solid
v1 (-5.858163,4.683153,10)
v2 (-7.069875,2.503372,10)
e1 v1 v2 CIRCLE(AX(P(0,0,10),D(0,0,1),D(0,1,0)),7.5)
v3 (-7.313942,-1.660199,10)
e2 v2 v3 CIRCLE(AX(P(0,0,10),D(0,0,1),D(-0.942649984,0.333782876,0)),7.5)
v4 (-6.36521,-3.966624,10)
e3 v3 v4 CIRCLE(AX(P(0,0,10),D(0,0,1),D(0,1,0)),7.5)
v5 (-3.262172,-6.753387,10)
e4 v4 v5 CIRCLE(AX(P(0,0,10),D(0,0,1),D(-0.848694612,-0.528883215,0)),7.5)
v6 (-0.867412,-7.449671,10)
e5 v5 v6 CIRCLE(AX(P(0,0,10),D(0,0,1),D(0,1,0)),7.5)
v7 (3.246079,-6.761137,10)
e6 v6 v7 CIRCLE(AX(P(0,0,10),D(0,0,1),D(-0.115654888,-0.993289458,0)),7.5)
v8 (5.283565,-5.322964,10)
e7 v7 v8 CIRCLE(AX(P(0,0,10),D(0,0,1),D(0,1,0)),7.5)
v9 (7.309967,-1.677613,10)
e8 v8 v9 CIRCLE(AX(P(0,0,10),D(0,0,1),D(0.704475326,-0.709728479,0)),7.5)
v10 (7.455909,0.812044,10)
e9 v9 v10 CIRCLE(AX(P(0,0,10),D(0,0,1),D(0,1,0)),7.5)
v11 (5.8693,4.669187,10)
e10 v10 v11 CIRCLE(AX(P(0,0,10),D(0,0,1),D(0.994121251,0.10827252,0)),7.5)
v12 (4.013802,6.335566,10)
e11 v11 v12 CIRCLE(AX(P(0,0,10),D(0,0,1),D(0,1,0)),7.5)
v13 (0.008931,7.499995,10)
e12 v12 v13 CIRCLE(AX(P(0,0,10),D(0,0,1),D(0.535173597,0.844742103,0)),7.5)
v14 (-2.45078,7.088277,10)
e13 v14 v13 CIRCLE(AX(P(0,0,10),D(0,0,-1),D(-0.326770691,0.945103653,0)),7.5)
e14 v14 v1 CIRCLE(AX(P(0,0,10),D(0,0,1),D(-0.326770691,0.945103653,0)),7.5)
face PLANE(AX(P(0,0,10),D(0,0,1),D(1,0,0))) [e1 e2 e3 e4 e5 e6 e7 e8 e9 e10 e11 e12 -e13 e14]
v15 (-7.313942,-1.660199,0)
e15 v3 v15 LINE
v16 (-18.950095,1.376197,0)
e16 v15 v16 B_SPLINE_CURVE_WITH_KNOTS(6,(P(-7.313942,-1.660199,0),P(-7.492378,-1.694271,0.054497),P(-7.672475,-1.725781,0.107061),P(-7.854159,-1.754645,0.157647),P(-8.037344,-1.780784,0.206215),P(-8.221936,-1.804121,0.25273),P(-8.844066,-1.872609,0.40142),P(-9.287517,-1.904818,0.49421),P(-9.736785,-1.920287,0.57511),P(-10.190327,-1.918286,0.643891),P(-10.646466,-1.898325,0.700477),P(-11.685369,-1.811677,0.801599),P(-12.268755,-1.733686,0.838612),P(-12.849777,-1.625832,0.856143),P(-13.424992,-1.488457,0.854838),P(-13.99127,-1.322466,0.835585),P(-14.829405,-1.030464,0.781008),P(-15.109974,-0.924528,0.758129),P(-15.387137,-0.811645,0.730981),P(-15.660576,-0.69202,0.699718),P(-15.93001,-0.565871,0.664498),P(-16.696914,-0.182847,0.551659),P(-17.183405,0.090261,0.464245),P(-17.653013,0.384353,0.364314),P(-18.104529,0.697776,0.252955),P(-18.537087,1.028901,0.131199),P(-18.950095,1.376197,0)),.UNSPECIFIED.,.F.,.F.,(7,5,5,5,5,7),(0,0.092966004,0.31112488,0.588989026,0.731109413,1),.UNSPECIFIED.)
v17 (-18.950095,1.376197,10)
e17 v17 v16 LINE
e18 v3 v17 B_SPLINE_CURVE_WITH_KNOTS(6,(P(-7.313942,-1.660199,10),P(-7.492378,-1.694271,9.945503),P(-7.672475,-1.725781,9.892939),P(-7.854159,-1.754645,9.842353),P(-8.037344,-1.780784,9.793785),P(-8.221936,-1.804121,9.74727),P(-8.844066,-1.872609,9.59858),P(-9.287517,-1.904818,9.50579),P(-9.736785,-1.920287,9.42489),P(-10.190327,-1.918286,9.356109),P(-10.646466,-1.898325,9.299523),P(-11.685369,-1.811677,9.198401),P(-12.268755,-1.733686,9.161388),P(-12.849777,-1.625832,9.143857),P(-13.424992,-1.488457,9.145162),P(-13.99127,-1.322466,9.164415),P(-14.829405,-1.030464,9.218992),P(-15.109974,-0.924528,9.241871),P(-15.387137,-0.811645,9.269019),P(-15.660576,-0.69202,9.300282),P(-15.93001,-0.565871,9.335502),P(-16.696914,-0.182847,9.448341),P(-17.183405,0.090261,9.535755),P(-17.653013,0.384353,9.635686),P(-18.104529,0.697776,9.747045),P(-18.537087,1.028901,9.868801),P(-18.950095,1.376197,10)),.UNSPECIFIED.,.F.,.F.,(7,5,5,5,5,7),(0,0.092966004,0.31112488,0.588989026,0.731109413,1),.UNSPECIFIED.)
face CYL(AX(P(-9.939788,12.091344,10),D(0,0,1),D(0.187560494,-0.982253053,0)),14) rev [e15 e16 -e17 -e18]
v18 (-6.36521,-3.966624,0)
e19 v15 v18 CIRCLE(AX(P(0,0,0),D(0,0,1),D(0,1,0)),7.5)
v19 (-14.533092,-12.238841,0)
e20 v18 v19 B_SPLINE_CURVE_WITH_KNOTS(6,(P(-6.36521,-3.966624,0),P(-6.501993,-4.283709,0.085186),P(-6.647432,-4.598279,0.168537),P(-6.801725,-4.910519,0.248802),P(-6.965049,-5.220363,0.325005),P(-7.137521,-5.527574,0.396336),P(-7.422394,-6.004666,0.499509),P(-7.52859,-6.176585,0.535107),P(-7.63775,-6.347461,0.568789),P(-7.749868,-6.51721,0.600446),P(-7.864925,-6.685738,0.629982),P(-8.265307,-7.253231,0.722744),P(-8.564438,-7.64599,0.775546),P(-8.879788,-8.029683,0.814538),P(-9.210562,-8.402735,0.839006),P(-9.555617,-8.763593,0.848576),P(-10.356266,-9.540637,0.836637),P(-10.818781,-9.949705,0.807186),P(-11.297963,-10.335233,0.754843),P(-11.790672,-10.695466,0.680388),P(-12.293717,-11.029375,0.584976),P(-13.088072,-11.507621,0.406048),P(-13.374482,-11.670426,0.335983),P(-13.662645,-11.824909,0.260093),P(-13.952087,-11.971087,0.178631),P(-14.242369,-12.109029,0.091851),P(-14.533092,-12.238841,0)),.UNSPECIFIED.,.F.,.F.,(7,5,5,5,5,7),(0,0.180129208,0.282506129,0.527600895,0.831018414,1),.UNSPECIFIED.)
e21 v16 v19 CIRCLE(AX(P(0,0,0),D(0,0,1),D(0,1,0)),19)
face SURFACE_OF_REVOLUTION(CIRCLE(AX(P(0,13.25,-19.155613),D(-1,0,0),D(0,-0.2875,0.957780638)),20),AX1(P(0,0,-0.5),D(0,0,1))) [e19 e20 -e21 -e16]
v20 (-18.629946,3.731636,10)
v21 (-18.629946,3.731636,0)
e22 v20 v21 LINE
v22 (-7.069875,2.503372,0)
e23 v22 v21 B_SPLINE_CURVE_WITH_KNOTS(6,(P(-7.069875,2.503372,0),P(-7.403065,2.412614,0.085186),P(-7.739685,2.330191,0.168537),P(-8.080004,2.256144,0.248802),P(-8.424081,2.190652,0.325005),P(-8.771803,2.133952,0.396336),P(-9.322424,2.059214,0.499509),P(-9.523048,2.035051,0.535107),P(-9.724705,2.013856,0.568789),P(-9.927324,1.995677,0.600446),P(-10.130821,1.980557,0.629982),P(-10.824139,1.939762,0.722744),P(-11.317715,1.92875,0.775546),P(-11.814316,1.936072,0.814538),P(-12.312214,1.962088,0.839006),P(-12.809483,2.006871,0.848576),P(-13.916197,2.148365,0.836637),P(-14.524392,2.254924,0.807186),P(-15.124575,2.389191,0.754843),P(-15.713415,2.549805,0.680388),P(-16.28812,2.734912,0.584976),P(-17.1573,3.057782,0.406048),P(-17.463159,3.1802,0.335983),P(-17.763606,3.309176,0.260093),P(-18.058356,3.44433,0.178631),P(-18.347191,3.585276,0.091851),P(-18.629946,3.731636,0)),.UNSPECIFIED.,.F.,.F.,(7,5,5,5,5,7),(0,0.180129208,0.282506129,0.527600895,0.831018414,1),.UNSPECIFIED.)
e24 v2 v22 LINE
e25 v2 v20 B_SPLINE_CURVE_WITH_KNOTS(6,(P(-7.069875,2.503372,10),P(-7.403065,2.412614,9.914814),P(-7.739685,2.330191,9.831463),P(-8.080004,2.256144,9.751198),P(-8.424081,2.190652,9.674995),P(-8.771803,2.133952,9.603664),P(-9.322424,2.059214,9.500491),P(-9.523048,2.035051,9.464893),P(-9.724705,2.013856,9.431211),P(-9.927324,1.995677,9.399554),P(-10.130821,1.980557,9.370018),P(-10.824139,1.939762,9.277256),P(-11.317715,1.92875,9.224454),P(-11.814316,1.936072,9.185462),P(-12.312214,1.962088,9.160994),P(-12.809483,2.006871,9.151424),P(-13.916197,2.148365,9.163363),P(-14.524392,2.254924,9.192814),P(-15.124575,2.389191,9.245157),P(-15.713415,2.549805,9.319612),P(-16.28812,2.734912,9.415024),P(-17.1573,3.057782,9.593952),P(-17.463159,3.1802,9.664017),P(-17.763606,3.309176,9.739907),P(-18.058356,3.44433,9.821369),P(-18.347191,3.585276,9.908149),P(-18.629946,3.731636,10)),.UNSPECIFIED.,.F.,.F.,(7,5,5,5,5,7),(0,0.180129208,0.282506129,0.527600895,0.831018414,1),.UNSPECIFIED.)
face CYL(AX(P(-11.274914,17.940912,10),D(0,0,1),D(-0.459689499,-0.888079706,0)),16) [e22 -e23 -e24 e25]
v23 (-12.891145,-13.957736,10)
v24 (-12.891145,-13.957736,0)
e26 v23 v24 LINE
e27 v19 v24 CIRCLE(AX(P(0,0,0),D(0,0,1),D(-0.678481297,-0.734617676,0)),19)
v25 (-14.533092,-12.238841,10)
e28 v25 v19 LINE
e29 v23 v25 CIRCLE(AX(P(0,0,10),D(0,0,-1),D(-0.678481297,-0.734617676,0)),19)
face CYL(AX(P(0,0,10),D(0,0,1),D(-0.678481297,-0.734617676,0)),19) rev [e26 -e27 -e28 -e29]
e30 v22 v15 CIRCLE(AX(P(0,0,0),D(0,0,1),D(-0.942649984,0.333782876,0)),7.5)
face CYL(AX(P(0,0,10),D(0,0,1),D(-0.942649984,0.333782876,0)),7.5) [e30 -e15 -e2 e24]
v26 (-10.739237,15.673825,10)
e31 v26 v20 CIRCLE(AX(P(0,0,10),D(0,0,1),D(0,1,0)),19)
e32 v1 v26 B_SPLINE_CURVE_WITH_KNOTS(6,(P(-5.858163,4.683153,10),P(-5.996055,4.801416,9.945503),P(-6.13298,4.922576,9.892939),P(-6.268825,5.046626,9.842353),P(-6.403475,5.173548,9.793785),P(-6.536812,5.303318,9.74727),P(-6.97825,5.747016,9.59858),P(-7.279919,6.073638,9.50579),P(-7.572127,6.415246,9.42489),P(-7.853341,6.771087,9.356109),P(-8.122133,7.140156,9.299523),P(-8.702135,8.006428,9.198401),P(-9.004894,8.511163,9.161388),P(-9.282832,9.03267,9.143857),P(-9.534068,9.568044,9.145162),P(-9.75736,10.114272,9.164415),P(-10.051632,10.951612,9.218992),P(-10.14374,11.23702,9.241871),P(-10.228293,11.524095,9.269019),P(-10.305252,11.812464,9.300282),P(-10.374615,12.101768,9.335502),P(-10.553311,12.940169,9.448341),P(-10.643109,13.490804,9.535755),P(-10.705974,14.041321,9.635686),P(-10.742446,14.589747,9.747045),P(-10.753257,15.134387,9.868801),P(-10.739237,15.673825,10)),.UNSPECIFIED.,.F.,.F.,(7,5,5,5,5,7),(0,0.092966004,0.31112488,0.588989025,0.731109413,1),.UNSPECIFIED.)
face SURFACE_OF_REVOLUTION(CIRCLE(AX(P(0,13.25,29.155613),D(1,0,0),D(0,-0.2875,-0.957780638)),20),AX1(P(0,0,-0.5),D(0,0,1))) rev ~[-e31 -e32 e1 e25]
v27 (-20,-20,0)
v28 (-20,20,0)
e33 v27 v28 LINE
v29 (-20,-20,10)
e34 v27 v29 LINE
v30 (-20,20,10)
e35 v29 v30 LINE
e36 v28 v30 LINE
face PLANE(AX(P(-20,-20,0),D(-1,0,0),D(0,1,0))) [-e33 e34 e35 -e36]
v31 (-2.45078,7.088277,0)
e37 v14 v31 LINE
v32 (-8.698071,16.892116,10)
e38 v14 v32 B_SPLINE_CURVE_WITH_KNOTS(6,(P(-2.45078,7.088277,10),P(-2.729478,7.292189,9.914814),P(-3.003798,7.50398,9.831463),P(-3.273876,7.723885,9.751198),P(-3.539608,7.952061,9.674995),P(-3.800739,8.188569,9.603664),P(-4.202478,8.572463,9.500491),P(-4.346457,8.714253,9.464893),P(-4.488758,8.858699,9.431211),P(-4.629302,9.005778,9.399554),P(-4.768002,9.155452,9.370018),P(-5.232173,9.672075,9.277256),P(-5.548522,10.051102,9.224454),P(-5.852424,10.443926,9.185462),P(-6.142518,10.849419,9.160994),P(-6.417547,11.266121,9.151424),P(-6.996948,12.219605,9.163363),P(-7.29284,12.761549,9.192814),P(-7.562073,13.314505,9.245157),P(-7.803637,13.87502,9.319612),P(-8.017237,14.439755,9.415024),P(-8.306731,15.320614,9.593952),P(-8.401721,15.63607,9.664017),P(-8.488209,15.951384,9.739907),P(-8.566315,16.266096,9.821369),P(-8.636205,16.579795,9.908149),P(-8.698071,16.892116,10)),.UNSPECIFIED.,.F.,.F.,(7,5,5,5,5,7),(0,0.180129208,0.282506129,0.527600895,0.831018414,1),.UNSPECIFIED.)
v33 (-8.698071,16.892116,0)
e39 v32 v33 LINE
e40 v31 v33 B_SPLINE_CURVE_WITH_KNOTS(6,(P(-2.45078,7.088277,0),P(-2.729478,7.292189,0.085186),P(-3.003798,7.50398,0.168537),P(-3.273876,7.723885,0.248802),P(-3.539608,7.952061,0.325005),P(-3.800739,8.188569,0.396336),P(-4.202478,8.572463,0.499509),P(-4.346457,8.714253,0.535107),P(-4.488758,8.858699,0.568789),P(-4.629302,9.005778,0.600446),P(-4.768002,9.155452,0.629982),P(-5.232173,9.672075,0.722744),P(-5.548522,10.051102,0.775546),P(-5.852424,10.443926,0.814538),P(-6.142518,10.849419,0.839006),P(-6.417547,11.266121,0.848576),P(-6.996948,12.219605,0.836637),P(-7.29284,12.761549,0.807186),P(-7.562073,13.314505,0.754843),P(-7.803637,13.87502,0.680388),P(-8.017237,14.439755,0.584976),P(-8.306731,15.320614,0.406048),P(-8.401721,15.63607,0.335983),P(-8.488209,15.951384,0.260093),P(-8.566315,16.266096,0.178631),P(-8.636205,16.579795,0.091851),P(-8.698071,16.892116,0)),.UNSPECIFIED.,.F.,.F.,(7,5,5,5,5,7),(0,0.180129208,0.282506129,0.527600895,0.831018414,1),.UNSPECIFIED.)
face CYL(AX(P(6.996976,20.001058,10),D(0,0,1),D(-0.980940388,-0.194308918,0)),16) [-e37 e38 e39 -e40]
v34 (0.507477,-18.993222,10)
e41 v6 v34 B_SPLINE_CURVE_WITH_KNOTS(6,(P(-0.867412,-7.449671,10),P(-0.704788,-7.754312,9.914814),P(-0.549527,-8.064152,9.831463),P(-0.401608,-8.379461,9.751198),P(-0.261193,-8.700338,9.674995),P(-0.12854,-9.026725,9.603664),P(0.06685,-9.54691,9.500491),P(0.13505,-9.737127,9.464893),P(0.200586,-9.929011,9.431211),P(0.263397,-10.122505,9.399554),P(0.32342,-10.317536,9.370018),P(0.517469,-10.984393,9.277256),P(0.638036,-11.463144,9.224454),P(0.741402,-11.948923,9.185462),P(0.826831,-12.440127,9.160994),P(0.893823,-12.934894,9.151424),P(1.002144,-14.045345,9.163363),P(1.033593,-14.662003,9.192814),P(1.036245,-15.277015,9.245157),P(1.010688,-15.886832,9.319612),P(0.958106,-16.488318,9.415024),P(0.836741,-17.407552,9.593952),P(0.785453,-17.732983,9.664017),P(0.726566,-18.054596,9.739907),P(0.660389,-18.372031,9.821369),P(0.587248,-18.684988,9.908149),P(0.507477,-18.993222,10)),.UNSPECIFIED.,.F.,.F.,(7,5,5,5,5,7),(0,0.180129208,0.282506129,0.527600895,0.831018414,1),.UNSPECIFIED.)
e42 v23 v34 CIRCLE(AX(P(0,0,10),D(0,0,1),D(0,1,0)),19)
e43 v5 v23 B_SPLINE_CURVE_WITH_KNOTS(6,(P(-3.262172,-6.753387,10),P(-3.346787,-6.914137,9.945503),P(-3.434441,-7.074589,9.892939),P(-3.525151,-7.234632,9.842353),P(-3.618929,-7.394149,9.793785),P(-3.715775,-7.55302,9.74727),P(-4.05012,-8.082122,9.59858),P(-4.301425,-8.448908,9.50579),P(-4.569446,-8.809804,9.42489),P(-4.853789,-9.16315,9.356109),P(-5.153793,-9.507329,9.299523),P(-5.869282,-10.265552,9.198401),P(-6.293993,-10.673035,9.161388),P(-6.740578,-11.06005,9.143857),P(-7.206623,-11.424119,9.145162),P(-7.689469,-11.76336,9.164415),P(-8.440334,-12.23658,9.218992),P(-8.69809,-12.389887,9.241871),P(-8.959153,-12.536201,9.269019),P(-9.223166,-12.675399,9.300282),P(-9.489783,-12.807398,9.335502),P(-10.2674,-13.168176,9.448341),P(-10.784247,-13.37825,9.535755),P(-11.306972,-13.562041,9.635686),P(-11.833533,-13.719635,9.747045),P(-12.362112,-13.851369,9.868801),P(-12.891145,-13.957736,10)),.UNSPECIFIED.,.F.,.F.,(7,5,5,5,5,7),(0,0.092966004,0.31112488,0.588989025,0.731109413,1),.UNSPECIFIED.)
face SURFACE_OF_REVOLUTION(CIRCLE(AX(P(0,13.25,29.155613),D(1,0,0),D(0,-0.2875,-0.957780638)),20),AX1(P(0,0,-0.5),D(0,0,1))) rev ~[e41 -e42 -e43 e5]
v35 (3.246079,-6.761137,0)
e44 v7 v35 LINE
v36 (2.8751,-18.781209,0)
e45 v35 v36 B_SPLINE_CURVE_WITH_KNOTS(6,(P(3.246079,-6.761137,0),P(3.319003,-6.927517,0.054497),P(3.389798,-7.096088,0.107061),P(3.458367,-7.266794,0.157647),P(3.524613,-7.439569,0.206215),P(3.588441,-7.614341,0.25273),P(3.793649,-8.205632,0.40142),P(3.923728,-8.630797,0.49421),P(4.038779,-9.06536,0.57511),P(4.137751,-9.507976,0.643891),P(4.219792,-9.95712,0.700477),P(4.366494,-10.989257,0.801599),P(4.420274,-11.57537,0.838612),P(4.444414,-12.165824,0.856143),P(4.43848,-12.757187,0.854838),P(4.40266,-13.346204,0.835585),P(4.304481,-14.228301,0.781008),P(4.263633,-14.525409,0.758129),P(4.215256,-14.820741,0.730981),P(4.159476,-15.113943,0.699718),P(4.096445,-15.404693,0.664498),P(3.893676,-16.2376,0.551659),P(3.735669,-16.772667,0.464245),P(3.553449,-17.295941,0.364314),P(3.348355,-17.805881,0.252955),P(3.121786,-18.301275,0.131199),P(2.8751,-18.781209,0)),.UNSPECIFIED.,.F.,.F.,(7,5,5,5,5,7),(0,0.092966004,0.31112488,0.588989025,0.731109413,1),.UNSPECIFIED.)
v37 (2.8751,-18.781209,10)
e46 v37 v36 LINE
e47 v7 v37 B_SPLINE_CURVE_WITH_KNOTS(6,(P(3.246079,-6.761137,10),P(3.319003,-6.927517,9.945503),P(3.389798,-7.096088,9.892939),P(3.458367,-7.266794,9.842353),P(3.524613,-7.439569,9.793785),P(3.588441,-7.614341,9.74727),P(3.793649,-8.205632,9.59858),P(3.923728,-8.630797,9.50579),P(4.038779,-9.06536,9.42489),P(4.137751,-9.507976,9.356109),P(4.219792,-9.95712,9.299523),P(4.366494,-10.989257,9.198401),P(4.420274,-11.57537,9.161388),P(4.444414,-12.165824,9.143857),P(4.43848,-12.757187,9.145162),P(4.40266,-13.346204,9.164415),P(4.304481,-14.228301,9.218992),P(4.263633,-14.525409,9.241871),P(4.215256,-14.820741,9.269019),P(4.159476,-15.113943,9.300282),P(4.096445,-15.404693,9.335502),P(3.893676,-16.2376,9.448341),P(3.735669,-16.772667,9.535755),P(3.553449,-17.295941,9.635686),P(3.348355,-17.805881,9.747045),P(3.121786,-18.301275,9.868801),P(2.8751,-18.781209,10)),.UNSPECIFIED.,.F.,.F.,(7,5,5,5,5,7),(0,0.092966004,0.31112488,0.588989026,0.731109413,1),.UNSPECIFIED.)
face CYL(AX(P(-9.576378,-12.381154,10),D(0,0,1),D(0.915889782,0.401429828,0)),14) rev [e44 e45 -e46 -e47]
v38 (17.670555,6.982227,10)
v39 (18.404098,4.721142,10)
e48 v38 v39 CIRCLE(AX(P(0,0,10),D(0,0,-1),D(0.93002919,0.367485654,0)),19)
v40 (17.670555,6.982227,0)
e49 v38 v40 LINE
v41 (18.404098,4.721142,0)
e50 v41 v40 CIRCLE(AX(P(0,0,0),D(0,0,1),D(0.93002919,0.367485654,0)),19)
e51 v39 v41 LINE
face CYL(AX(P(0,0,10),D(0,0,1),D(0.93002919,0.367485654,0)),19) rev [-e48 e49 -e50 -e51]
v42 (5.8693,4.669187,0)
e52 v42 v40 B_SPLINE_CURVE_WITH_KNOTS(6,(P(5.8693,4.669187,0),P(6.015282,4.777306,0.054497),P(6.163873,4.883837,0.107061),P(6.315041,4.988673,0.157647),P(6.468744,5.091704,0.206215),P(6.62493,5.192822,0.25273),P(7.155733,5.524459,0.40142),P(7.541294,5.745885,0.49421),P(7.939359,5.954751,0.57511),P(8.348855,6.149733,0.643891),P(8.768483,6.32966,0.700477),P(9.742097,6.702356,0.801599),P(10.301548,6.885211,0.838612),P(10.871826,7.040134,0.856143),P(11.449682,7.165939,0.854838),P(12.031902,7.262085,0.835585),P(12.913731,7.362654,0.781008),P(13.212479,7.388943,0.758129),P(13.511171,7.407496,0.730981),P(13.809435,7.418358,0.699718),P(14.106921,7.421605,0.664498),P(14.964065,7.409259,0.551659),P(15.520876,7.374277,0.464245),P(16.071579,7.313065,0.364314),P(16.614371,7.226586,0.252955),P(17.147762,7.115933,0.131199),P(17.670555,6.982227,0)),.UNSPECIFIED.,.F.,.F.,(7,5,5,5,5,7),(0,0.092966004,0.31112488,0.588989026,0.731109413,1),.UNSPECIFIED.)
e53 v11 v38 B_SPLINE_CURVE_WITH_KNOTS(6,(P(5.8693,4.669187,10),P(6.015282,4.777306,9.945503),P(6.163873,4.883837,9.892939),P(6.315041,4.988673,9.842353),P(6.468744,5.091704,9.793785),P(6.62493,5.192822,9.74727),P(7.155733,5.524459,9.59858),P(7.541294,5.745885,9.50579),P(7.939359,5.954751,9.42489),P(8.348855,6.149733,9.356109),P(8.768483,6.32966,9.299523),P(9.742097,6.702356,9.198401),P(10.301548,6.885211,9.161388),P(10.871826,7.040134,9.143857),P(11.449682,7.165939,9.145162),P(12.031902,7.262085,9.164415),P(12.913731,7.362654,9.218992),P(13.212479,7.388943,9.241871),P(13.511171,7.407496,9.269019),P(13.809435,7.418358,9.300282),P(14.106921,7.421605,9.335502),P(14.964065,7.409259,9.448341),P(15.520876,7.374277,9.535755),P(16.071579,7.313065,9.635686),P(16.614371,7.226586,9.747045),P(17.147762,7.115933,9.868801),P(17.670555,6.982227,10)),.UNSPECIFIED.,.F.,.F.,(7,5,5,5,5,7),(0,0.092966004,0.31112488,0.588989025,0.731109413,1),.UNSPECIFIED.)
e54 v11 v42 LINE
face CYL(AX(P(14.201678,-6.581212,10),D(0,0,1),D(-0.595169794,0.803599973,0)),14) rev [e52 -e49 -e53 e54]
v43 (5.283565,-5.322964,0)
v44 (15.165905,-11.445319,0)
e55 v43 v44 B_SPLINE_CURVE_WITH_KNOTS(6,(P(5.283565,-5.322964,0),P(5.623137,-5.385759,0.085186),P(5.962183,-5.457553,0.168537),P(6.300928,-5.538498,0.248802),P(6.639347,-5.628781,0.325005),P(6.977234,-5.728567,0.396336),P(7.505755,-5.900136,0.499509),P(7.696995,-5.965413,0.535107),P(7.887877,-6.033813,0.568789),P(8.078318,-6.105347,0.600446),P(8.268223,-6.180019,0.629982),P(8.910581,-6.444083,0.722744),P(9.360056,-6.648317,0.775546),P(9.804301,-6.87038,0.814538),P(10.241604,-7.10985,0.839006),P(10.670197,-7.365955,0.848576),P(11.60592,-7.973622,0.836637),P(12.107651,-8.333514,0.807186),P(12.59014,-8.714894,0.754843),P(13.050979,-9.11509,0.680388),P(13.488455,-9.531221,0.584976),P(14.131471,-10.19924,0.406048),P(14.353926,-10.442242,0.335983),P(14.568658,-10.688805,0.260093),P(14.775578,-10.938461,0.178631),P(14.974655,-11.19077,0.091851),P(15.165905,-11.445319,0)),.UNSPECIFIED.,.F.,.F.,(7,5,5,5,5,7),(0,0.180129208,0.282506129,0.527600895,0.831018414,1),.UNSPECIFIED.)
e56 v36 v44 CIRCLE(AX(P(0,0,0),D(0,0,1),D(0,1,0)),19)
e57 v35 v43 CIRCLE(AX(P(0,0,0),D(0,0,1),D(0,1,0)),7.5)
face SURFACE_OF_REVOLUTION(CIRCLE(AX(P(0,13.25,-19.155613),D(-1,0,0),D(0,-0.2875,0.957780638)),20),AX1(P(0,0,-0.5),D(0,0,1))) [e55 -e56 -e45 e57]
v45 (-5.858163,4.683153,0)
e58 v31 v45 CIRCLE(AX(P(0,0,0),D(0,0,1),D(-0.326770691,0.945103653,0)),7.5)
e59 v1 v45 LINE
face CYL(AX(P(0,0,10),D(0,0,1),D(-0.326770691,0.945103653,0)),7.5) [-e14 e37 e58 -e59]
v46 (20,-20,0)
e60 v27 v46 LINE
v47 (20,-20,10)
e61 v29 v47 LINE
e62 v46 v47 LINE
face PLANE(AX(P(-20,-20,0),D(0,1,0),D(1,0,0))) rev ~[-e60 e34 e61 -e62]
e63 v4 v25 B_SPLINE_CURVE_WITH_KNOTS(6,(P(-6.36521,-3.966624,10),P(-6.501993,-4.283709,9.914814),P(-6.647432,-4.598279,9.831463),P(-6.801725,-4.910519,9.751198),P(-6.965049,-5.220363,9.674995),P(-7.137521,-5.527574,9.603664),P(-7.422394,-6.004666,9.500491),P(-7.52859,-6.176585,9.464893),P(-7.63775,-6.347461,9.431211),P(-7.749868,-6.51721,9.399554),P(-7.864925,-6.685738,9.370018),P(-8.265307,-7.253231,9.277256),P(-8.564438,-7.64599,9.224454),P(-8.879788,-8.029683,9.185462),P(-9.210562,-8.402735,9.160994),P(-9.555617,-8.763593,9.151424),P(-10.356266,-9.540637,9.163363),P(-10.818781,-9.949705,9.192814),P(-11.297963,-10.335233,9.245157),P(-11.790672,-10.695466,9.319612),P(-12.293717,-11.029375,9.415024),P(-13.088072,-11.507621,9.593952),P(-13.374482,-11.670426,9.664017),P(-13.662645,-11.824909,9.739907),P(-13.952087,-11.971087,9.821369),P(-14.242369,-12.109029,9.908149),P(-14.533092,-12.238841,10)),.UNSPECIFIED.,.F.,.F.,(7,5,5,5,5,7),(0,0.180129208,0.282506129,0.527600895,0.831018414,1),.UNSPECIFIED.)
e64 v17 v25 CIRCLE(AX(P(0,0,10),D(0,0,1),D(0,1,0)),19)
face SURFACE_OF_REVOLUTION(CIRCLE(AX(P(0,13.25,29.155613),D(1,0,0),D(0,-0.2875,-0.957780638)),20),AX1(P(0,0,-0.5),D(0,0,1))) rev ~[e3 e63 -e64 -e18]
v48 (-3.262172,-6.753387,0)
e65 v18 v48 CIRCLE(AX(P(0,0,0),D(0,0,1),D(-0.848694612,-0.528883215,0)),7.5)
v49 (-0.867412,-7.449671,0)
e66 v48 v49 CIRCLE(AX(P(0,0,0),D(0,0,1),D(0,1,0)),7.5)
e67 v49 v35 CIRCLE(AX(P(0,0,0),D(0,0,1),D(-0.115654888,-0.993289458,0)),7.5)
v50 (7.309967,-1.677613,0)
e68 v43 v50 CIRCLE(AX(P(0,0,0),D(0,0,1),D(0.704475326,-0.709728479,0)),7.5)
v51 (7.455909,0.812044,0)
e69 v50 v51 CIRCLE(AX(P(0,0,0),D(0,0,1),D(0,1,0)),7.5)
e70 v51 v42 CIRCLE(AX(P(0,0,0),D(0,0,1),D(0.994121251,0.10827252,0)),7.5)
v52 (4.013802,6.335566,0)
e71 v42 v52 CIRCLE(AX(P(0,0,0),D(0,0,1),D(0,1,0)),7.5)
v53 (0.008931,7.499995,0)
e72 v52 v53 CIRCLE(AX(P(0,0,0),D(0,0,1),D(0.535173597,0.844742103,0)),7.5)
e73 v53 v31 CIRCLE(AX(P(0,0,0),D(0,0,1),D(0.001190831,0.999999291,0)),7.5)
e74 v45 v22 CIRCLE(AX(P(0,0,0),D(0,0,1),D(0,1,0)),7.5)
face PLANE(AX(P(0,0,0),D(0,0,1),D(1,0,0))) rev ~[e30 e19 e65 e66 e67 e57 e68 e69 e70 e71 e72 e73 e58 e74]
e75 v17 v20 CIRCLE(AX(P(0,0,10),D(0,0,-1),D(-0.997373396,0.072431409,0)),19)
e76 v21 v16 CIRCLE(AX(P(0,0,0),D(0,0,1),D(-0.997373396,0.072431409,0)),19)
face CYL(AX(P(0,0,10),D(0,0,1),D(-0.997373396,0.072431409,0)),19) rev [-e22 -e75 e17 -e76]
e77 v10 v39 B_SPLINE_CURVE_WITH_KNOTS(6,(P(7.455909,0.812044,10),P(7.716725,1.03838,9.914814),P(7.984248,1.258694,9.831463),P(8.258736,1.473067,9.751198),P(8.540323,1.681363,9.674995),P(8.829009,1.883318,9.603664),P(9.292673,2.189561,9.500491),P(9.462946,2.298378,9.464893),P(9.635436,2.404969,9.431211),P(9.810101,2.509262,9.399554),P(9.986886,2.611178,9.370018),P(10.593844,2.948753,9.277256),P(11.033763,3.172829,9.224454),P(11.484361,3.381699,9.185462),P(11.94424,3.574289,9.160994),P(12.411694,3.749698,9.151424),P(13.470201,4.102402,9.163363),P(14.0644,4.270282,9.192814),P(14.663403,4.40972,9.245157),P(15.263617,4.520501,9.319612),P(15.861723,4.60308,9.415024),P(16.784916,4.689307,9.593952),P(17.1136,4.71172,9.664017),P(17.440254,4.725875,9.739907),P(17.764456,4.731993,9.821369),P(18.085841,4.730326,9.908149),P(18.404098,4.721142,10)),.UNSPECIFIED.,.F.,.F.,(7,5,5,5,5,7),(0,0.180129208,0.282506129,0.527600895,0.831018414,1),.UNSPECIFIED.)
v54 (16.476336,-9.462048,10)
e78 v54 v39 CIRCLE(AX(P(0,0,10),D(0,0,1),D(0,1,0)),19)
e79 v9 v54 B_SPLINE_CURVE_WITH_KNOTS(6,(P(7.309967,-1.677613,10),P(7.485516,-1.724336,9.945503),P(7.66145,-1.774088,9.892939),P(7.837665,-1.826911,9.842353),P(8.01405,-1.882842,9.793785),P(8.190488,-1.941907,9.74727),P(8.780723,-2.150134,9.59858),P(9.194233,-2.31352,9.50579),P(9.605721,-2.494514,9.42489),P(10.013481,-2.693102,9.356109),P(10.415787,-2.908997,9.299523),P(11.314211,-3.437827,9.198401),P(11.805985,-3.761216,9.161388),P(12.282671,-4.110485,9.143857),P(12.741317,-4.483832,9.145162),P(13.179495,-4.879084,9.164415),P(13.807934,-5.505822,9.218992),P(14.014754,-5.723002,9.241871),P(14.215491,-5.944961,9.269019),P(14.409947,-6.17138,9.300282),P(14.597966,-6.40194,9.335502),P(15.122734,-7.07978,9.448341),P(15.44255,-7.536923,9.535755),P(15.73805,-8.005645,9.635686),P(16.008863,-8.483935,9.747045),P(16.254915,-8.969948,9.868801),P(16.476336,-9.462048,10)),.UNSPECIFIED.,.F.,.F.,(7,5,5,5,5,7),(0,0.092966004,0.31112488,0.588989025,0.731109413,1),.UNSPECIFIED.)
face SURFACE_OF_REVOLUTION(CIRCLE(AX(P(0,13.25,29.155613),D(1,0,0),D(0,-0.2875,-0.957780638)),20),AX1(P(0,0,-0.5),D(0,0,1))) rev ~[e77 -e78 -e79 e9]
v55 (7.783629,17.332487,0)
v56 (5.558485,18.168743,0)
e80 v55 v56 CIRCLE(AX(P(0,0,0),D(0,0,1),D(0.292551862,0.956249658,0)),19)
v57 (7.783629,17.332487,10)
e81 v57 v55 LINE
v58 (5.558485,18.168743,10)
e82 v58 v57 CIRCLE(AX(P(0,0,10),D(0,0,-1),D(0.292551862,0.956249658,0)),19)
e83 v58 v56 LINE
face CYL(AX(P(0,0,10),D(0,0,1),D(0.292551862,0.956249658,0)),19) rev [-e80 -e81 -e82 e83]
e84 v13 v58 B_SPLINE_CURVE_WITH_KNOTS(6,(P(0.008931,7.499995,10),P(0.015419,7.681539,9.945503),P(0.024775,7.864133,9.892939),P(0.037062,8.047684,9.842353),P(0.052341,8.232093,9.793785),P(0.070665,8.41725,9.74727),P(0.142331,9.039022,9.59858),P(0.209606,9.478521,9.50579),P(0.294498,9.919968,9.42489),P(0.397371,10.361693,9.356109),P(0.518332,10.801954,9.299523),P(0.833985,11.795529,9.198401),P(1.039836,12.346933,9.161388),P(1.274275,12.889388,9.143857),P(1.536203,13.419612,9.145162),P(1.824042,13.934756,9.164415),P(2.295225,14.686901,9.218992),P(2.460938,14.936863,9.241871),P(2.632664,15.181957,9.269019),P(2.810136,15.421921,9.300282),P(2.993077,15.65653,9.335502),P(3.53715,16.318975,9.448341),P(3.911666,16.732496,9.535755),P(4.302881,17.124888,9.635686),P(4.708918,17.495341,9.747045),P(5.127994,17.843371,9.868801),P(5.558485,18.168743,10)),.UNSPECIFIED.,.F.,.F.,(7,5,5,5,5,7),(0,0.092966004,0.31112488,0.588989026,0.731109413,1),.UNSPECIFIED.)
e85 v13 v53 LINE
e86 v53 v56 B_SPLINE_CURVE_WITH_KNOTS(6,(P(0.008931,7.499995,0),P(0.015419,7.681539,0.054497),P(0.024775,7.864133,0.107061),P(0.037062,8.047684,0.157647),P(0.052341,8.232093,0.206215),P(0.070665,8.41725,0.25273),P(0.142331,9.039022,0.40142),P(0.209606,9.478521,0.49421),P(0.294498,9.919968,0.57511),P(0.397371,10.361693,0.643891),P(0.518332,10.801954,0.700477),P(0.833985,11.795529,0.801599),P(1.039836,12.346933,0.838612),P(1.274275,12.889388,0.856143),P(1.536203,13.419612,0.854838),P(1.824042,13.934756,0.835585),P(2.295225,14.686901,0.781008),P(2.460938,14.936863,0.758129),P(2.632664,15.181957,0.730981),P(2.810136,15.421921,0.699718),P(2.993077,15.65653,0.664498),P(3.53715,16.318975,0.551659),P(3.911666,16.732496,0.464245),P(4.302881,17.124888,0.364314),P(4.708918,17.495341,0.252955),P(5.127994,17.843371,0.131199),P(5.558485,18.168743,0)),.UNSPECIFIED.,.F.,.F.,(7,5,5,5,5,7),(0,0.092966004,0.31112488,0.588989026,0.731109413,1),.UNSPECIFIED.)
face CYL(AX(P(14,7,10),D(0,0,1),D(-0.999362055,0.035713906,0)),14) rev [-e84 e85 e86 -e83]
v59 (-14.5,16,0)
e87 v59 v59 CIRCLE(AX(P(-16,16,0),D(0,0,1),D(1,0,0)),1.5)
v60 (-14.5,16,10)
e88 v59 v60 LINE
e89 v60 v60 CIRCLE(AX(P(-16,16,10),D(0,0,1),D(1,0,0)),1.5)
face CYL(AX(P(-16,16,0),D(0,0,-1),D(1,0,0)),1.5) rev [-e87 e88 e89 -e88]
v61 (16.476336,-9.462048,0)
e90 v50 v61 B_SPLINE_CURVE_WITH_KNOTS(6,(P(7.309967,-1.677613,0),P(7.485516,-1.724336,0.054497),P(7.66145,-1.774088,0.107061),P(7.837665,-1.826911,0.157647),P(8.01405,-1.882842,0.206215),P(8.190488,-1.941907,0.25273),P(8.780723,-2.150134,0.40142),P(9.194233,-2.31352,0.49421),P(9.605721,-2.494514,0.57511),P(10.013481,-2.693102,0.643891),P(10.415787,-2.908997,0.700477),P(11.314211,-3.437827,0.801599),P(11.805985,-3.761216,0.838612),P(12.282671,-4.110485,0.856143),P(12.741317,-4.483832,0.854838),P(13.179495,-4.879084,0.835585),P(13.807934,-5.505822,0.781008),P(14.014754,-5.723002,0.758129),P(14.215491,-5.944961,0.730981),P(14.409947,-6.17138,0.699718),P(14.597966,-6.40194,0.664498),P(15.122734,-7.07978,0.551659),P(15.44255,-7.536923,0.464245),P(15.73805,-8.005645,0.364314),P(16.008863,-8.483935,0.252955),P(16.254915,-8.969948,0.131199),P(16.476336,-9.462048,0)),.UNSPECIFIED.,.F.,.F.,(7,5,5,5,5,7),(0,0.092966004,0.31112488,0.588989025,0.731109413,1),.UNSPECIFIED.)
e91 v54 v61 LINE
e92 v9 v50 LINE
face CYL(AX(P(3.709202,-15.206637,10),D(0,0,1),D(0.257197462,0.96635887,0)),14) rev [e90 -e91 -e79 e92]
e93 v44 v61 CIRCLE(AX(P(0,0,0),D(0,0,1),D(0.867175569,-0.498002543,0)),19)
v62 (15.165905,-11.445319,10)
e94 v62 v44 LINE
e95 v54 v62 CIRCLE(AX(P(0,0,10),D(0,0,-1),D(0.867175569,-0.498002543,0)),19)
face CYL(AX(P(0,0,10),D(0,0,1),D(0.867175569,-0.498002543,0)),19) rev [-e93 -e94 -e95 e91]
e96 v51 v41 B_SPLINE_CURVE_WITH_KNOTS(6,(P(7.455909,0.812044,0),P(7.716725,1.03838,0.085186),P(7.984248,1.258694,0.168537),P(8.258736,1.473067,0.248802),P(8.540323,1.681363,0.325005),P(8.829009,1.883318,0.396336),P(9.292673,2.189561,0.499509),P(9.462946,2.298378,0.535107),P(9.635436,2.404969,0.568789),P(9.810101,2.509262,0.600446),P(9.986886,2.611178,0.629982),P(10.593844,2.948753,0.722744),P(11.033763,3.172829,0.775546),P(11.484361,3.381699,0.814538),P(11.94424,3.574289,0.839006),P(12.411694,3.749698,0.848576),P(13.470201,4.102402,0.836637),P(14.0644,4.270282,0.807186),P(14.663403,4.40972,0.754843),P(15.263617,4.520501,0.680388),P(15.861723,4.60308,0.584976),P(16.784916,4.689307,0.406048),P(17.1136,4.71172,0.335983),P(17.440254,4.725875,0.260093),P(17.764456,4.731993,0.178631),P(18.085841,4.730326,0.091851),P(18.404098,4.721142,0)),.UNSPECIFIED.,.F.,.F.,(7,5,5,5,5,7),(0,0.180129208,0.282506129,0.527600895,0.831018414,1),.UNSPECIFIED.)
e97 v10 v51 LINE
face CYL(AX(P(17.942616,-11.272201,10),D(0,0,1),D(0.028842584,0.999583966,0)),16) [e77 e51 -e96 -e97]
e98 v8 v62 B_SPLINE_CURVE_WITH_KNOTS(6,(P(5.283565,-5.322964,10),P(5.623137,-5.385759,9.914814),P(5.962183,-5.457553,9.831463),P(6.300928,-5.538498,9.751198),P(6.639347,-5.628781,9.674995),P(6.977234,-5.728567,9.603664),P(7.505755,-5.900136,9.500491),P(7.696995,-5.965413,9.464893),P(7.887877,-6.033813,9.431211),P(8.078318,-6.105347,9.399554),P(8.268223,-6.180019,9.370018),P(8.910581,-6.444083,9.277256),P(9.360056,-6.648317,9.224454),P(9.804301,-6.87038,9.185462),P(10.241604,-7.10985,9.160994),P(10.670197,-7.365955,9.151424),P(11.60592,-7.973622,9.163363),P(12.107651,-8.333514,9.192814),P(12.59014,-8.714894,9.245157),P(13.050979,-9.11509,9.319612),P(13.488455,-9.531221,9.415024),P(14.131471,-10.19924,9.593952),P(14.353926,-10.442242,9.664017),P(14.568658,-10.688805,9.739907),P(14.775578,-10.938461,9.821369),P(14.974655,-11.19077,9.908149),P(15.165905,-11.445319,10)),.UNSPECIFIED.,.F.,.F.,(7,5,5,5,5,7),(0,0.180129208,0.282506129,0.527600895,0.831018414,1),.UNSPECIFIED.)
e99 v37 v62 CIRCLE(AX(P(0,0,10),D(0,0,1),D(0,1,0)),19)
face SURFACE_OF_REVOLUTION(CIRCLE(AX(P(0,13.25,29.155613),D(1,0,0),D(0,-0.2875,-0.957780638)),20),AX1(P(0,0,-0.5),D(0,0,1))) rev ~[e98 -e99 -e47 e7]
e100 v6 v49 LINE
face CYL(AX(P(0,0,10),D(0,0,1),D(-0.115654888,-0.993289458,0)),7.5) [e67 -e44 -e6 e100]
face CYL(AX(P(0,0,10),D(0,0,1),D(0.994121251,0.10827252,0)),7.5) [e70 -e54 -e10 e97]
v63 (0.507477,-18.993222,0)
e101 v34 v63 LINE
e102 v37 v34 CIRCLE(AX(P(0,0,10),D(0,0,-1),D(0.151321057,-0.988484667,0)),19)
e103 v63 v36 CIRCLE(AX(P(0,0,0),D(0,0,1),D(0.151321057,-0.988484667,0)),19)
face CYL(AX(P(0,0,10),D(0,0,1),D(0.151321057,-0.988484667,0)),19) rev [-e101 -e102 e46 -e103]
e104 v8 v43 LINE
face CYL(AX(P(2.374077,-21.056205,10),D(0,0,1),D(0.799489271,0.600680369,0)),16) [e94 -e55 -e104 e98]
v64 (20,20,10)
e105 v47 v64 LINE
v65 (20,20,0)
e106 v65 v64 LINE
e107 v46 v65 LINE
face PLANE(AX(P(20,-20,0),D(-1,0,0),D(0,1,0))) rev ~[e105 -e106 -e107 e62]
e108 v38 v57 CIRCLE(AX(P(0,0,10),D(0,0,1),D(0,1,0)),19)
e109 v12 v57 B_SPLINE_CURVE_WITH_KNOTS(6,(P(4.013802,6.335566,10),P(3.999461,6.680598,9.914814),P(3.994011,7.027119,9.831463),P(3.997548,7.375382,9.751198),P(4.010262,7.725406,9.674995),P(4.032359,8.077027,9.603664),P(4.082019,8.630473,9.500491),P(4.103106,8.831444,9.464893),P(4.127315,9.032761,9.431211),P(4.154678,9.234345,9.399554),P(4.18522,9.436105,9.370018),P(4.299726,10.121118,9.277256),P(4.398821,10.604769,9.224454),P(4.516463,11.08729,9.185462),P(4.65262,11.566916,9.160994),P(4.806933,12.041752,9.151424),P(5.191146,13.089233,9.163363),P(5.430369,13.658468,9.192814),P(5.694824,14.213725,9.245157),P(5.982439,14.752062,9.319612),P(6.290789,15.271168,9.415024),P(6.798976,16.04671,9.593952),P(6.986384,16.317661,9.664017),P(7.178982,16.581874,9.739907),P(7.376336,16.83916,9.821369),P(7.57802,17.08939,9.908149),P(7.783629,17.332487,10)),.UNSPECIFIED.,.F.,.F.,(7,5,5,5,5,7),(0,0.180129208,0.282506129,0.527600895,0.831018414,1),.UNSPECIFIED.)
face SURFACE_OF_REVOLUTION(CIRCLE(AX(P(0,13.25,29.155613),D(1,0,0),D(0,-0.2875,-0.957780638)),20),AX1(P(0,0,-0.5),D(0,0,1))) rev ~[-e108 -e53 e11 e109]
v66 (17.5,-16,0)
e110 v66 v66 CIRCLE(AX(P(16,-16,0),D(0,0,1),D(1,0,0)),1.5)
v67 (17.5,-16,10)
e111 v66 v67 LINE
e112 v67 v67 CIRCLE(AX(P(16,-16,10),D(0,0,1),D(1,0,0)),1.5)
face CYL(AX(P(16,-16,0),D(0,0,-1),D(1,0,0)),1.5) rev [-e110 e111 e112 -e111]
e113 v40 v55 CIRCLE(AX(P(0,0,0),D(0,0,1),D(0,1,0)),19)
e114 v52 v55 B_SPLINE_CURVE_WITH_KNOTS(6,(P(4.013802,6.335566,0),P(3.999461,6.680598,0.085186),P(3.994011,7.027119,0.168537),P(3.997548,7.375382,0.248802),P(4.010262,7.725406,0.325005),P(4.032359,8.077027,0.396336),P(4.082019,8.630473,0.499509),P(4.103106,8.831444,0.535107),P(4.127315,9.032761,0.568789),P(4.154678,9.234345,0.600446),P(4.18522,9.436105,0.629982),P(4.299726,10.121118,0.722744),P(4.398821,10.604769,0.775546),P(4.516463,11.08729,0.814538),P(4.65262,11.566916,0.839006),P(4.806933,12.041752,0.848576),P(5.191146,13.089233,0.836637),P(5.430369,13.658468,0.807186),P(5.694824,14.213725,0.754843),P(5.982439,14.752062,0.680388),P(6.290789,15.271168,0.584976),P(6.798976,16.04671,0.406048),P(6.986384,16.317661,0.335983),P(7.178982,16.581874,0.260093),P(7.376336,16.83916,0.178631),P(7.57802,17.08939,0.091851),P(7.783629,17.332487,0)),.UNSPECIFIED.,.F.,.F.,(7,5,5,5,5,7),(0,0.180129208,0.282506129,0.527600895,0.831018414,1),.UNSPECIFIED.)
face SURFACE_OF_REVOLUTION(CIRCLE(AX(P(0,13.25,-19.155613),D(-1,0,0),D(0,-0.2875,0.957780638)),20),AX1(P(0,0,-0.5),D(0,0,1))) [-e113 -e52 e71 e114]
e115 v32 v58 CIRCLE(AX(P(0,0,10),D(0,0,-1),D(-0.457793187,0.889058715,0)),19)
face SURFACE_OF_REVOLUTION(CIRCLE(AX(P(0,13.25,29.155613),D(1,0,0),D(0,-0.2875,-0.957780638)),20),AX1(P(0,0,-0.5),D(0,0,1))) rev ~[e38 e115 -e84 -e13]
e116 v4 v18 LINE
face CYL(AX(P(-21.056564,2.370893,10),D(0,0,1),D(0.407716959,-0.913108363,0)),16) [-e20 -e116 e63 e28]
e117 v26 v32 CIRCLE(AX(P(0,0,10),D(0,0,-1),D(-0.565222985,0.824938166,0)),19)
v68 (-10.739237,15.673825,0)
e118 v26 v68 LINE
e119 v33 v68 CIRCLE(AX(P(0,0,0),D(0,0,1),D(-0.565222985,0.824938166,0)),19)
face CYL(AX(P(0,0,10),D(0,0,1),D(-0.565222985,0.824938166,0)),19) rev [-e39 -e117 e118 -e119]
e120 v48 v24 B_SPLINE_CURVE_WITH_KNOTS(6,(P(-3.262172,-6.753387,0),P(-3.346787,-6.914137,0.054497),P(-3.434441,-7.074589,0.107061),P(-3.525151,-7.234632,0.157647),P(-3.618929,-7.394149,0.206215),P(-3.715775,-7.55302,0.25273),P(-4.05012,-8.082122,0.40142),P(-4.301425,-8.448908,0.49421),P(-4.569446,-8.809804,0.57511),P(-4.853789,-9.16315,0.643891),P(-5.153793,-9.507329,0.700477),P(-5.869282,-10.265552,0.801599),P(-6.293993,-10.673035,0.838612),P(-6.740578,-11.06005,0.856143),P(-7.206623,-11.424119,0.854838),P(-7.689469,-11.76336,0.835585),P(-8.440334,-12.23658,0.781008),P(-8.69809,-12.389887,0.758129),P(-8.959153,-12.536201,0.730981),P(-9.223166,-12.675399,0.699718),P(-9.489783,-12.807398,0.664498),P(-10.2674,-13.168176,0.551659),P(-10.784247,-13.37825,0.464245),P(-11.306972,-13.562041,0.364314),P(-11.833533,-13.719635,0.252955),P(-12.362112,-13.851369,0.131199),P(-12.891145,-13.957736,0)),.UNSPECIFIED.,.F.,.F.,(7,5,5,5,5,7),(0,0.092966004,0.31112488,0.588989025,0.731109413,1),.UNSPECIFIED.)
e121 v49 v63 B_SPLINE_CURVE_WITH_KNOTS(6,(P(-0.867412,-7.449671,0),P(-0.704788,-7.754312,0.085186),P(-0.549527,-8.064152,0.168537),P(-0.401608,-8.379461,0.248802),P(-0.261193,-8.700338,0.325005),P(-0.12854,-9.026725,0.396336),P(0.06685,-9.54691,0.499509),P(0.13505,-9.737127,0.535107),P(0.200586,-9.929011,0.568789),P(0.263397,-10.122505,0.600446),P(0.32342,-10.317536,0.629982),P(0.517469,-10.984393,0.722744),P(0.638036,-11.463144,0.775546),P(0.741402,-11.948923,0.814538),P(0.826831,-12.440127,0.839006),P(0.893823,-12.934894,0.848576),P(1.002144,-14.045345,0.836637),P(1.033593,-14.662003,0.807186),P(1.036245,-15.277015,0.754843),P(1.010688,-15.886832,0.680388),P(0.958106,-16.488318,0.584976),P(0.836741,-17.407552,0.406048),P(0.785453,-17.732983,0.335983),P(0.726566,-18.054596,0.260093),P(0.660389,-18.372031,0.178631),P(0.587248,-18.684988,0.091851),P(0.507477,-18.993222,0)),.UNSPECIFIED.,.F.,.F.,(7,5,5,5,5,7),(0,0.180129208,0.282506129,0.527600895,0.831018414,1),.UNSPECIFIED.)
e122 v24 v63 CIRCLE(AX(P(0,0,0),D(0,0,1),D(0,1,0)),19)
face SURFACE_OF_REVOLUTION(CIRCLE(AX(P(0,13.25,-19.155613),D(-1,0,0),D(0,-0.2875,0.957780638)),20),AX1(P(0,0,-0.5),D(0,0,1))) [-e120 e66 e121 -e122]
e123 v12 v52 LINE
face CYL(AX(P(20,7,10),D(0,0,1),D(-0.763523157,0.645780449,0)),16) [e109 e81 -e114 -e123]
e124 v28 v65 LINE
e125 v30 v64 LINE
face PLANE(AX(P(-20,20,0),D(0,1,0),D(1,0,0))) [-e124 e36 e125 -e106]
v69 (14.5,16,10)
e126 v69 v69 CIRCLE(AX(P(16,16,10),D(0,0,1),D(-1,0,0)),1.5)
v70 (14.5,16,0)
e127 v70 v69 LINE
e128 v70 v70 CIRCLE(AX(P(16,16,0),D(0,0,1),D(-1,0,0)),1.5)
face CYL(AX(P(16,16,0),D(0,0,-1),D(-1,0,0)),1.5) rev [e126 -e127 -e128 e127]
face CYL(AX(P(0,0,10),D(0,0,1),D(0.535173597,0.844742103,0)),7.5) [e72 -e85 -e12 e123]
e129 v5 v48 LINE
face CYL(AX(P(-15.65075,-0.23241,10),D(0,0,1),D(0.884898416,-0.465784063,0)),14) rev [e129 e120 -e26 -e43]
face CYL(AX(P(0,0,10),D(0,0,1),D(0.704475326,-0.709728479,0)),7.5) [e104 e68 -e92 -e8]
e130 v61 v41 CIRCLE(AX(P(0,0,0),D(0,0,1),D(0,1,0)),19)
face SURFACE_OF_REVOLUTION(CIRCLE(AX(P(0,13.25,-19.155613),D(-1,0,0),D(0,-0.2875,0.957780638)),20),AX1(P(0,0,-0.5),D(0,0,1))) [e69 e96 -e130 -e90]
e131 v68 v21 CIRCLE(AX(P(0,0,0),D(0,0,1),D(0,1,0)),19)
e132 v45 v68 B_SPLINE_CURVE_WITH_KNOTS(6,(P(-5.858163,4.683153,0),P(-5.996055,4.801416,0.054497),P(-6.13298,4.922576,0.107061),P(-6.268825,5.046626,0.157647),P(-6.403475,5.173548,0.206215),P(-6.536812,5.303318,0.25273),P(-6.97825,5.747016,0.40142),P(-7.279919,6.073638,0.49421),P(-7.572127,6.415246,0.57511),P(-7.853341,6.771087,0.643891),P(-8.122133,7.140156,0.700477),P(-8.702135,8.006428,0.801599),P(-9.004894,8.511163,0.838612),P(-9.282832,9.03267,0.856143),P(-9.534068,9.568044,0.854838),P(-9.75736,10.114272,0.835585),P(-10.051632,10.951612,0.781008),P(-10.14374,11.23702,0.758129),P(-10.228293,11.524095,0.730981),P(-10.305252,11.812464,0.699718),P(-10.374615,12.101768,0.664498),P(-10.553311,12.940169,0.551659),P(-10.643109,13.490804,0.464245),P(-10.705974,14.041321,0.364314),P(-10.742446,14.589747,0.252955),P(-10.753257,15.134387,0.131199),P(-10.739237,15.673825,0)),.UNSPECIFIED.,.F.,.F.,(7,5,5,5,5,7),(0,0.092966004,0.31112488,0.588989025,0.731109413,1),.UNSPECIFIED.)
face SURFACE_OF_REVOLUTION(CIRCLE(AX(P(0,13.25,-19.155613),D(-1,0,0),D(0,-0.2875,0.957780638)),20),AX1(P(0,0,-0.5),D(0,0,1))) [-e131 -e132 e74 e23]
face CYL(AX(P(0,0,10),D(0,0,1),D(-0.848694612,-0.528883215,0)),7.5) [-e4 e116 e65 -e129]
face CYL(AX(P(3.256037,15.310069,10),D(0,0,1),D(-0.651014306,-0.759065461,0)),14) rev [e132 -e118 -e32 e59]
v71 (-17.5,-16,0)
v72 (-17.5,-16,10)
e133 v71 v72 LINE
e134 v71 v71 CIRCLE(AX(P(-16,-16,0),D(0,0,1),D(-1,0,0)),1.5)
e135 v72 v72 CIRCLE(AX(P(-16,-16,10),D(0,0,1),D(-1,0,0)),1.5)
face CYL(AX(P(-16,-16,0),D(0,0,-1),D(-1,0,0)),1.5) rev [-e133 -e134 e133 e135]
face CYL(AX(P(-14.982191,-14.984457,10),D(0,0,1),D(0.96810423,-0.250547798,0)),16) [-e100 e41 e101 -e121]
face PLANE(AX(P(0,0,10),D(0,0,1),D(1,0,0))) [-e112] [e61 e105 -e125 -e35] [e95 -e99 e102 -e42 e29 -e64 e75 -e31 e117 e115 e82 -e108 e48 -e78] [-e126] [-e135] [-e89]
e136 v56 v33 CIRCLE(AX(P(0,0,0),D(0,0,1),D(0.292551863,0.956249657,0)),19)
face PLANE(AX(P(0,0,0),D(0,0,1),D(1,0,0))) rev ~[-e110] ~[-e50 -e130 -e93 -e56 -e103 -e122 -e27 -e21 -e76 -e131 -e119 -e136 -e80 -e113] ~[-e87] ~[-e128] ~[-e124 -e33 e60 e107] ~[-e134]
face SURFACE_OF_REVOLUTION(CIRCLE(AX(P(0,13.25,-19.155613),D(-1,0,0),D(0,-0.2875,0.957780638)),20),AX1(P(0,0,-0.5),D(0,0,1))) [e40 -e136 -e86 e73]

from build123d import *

# Parameters (mm, degrees)
ESQUISSE1_W                  = 40
ESQUISSE1_H                  = 40
ESQUISSE1_R                  = 1.5
BOSS_EXTRU_1_DEPTH           = 10
ENL_V_MAT_EXTRU_1_DEPTH      = 31
R_P_TITION_CIRCULAIRE1_COUNT = 7


with BuildPart() as part:
    # Esquisse1 → Boss.-Extru.1 (new body)
    with BuildSketch(Plane.XY):
        Rectangle(ESQUISSE1_W, ESQUISSE1_H)
        with Locations((-16, 16)):
            Circle(ESQUISSE1_R, mode=Mode.SUBTRACT)
        with Locations(Location((16, 16, 0), (0, 0, 180))):
            Circle(ESQUISSE1_R, mode=Mode.SUBTRACT)
        with Locations((16, -16)):
            Circle(ESQUISSE1_R, mode=Mode.SUBTRACT)
        with Locations(Location((-16, -16, 0), (0, 0, 180))):
            Circle(ESQUISSE1_R, mode=Mode.SUBTRACT)
    extrude(amount=BOSS_EXTRU_1_DEPTH)

    # Esquisse2 → Enlèv. mat.-Extru.1 (cut, through all)
    with BuildSketch(Plane.XY.offset(10)):
        with BuildLine():
            ThreePointArc((4.013801979, 6.335565774), (2.093936315, 7.201765805), (0.00893123, 7.499994682))
            ThreePointArc((0.00893123, 7.499994682), (1.579824901, 13.460592117), (5.558485397, 18.168743492))
            ThreePointArc((5.558485397, 18.168743492), (6.684148303, 17.785448026), (7.783629485, 17.332487186))
            ThreePointArc((7.783629485, 17.332487186), (4.864634522, 12.188517309), (4.013801979, 6.335565774))
        make_face()
    enl_v_mat_extru_1 = extrude(amount=-ENL_V_MAT_EXTRU_1_DEPTH, mode=Mode.SUBTRACT)

    # Répétition circulaire1: Enlèv. mat.-Extru.1 ×7 about axis
    r_p_tition_circulaire1_axis = Axis((0, 0, 0), (0, 0, 1))
    for i in range(1, R_P_TITION_CIRCULAIRE1_COUNT):
        add(enl_v_mat_extru_1.rotate(r_p_tition_circulaire1_axis, i * 360 / R_P_TITION_CIRCULAIRE1_COUNT), mode=Mode.SUBTRACT)

    # Esquisse3 → Enlèvement de matière-Révolution1 (revolve, cut)
    with BuildSketch(Plane(origin=(0, 0, 0), x_dir=(0, 0, -1), z_dir=(1, 0, 0))):
        with BuildLine():
            Line((0, 19), (0, 7.5))
            ThreePointArc((0, 7.5), (-0.844387246, 13.25), (0, 19))
        make_face()
        with BuildLine():
            Line((-10, 19), (-10, 7.5))
            ThreePointArc((-10, 7.5), (-9.155612754, 13.25), (-10, 19))
        make_face()
    revolve(axis=Axis((0, 0, -0.5), (0, 0, 1)), mode=Mode.SUBTRACT)


solid = part.part
